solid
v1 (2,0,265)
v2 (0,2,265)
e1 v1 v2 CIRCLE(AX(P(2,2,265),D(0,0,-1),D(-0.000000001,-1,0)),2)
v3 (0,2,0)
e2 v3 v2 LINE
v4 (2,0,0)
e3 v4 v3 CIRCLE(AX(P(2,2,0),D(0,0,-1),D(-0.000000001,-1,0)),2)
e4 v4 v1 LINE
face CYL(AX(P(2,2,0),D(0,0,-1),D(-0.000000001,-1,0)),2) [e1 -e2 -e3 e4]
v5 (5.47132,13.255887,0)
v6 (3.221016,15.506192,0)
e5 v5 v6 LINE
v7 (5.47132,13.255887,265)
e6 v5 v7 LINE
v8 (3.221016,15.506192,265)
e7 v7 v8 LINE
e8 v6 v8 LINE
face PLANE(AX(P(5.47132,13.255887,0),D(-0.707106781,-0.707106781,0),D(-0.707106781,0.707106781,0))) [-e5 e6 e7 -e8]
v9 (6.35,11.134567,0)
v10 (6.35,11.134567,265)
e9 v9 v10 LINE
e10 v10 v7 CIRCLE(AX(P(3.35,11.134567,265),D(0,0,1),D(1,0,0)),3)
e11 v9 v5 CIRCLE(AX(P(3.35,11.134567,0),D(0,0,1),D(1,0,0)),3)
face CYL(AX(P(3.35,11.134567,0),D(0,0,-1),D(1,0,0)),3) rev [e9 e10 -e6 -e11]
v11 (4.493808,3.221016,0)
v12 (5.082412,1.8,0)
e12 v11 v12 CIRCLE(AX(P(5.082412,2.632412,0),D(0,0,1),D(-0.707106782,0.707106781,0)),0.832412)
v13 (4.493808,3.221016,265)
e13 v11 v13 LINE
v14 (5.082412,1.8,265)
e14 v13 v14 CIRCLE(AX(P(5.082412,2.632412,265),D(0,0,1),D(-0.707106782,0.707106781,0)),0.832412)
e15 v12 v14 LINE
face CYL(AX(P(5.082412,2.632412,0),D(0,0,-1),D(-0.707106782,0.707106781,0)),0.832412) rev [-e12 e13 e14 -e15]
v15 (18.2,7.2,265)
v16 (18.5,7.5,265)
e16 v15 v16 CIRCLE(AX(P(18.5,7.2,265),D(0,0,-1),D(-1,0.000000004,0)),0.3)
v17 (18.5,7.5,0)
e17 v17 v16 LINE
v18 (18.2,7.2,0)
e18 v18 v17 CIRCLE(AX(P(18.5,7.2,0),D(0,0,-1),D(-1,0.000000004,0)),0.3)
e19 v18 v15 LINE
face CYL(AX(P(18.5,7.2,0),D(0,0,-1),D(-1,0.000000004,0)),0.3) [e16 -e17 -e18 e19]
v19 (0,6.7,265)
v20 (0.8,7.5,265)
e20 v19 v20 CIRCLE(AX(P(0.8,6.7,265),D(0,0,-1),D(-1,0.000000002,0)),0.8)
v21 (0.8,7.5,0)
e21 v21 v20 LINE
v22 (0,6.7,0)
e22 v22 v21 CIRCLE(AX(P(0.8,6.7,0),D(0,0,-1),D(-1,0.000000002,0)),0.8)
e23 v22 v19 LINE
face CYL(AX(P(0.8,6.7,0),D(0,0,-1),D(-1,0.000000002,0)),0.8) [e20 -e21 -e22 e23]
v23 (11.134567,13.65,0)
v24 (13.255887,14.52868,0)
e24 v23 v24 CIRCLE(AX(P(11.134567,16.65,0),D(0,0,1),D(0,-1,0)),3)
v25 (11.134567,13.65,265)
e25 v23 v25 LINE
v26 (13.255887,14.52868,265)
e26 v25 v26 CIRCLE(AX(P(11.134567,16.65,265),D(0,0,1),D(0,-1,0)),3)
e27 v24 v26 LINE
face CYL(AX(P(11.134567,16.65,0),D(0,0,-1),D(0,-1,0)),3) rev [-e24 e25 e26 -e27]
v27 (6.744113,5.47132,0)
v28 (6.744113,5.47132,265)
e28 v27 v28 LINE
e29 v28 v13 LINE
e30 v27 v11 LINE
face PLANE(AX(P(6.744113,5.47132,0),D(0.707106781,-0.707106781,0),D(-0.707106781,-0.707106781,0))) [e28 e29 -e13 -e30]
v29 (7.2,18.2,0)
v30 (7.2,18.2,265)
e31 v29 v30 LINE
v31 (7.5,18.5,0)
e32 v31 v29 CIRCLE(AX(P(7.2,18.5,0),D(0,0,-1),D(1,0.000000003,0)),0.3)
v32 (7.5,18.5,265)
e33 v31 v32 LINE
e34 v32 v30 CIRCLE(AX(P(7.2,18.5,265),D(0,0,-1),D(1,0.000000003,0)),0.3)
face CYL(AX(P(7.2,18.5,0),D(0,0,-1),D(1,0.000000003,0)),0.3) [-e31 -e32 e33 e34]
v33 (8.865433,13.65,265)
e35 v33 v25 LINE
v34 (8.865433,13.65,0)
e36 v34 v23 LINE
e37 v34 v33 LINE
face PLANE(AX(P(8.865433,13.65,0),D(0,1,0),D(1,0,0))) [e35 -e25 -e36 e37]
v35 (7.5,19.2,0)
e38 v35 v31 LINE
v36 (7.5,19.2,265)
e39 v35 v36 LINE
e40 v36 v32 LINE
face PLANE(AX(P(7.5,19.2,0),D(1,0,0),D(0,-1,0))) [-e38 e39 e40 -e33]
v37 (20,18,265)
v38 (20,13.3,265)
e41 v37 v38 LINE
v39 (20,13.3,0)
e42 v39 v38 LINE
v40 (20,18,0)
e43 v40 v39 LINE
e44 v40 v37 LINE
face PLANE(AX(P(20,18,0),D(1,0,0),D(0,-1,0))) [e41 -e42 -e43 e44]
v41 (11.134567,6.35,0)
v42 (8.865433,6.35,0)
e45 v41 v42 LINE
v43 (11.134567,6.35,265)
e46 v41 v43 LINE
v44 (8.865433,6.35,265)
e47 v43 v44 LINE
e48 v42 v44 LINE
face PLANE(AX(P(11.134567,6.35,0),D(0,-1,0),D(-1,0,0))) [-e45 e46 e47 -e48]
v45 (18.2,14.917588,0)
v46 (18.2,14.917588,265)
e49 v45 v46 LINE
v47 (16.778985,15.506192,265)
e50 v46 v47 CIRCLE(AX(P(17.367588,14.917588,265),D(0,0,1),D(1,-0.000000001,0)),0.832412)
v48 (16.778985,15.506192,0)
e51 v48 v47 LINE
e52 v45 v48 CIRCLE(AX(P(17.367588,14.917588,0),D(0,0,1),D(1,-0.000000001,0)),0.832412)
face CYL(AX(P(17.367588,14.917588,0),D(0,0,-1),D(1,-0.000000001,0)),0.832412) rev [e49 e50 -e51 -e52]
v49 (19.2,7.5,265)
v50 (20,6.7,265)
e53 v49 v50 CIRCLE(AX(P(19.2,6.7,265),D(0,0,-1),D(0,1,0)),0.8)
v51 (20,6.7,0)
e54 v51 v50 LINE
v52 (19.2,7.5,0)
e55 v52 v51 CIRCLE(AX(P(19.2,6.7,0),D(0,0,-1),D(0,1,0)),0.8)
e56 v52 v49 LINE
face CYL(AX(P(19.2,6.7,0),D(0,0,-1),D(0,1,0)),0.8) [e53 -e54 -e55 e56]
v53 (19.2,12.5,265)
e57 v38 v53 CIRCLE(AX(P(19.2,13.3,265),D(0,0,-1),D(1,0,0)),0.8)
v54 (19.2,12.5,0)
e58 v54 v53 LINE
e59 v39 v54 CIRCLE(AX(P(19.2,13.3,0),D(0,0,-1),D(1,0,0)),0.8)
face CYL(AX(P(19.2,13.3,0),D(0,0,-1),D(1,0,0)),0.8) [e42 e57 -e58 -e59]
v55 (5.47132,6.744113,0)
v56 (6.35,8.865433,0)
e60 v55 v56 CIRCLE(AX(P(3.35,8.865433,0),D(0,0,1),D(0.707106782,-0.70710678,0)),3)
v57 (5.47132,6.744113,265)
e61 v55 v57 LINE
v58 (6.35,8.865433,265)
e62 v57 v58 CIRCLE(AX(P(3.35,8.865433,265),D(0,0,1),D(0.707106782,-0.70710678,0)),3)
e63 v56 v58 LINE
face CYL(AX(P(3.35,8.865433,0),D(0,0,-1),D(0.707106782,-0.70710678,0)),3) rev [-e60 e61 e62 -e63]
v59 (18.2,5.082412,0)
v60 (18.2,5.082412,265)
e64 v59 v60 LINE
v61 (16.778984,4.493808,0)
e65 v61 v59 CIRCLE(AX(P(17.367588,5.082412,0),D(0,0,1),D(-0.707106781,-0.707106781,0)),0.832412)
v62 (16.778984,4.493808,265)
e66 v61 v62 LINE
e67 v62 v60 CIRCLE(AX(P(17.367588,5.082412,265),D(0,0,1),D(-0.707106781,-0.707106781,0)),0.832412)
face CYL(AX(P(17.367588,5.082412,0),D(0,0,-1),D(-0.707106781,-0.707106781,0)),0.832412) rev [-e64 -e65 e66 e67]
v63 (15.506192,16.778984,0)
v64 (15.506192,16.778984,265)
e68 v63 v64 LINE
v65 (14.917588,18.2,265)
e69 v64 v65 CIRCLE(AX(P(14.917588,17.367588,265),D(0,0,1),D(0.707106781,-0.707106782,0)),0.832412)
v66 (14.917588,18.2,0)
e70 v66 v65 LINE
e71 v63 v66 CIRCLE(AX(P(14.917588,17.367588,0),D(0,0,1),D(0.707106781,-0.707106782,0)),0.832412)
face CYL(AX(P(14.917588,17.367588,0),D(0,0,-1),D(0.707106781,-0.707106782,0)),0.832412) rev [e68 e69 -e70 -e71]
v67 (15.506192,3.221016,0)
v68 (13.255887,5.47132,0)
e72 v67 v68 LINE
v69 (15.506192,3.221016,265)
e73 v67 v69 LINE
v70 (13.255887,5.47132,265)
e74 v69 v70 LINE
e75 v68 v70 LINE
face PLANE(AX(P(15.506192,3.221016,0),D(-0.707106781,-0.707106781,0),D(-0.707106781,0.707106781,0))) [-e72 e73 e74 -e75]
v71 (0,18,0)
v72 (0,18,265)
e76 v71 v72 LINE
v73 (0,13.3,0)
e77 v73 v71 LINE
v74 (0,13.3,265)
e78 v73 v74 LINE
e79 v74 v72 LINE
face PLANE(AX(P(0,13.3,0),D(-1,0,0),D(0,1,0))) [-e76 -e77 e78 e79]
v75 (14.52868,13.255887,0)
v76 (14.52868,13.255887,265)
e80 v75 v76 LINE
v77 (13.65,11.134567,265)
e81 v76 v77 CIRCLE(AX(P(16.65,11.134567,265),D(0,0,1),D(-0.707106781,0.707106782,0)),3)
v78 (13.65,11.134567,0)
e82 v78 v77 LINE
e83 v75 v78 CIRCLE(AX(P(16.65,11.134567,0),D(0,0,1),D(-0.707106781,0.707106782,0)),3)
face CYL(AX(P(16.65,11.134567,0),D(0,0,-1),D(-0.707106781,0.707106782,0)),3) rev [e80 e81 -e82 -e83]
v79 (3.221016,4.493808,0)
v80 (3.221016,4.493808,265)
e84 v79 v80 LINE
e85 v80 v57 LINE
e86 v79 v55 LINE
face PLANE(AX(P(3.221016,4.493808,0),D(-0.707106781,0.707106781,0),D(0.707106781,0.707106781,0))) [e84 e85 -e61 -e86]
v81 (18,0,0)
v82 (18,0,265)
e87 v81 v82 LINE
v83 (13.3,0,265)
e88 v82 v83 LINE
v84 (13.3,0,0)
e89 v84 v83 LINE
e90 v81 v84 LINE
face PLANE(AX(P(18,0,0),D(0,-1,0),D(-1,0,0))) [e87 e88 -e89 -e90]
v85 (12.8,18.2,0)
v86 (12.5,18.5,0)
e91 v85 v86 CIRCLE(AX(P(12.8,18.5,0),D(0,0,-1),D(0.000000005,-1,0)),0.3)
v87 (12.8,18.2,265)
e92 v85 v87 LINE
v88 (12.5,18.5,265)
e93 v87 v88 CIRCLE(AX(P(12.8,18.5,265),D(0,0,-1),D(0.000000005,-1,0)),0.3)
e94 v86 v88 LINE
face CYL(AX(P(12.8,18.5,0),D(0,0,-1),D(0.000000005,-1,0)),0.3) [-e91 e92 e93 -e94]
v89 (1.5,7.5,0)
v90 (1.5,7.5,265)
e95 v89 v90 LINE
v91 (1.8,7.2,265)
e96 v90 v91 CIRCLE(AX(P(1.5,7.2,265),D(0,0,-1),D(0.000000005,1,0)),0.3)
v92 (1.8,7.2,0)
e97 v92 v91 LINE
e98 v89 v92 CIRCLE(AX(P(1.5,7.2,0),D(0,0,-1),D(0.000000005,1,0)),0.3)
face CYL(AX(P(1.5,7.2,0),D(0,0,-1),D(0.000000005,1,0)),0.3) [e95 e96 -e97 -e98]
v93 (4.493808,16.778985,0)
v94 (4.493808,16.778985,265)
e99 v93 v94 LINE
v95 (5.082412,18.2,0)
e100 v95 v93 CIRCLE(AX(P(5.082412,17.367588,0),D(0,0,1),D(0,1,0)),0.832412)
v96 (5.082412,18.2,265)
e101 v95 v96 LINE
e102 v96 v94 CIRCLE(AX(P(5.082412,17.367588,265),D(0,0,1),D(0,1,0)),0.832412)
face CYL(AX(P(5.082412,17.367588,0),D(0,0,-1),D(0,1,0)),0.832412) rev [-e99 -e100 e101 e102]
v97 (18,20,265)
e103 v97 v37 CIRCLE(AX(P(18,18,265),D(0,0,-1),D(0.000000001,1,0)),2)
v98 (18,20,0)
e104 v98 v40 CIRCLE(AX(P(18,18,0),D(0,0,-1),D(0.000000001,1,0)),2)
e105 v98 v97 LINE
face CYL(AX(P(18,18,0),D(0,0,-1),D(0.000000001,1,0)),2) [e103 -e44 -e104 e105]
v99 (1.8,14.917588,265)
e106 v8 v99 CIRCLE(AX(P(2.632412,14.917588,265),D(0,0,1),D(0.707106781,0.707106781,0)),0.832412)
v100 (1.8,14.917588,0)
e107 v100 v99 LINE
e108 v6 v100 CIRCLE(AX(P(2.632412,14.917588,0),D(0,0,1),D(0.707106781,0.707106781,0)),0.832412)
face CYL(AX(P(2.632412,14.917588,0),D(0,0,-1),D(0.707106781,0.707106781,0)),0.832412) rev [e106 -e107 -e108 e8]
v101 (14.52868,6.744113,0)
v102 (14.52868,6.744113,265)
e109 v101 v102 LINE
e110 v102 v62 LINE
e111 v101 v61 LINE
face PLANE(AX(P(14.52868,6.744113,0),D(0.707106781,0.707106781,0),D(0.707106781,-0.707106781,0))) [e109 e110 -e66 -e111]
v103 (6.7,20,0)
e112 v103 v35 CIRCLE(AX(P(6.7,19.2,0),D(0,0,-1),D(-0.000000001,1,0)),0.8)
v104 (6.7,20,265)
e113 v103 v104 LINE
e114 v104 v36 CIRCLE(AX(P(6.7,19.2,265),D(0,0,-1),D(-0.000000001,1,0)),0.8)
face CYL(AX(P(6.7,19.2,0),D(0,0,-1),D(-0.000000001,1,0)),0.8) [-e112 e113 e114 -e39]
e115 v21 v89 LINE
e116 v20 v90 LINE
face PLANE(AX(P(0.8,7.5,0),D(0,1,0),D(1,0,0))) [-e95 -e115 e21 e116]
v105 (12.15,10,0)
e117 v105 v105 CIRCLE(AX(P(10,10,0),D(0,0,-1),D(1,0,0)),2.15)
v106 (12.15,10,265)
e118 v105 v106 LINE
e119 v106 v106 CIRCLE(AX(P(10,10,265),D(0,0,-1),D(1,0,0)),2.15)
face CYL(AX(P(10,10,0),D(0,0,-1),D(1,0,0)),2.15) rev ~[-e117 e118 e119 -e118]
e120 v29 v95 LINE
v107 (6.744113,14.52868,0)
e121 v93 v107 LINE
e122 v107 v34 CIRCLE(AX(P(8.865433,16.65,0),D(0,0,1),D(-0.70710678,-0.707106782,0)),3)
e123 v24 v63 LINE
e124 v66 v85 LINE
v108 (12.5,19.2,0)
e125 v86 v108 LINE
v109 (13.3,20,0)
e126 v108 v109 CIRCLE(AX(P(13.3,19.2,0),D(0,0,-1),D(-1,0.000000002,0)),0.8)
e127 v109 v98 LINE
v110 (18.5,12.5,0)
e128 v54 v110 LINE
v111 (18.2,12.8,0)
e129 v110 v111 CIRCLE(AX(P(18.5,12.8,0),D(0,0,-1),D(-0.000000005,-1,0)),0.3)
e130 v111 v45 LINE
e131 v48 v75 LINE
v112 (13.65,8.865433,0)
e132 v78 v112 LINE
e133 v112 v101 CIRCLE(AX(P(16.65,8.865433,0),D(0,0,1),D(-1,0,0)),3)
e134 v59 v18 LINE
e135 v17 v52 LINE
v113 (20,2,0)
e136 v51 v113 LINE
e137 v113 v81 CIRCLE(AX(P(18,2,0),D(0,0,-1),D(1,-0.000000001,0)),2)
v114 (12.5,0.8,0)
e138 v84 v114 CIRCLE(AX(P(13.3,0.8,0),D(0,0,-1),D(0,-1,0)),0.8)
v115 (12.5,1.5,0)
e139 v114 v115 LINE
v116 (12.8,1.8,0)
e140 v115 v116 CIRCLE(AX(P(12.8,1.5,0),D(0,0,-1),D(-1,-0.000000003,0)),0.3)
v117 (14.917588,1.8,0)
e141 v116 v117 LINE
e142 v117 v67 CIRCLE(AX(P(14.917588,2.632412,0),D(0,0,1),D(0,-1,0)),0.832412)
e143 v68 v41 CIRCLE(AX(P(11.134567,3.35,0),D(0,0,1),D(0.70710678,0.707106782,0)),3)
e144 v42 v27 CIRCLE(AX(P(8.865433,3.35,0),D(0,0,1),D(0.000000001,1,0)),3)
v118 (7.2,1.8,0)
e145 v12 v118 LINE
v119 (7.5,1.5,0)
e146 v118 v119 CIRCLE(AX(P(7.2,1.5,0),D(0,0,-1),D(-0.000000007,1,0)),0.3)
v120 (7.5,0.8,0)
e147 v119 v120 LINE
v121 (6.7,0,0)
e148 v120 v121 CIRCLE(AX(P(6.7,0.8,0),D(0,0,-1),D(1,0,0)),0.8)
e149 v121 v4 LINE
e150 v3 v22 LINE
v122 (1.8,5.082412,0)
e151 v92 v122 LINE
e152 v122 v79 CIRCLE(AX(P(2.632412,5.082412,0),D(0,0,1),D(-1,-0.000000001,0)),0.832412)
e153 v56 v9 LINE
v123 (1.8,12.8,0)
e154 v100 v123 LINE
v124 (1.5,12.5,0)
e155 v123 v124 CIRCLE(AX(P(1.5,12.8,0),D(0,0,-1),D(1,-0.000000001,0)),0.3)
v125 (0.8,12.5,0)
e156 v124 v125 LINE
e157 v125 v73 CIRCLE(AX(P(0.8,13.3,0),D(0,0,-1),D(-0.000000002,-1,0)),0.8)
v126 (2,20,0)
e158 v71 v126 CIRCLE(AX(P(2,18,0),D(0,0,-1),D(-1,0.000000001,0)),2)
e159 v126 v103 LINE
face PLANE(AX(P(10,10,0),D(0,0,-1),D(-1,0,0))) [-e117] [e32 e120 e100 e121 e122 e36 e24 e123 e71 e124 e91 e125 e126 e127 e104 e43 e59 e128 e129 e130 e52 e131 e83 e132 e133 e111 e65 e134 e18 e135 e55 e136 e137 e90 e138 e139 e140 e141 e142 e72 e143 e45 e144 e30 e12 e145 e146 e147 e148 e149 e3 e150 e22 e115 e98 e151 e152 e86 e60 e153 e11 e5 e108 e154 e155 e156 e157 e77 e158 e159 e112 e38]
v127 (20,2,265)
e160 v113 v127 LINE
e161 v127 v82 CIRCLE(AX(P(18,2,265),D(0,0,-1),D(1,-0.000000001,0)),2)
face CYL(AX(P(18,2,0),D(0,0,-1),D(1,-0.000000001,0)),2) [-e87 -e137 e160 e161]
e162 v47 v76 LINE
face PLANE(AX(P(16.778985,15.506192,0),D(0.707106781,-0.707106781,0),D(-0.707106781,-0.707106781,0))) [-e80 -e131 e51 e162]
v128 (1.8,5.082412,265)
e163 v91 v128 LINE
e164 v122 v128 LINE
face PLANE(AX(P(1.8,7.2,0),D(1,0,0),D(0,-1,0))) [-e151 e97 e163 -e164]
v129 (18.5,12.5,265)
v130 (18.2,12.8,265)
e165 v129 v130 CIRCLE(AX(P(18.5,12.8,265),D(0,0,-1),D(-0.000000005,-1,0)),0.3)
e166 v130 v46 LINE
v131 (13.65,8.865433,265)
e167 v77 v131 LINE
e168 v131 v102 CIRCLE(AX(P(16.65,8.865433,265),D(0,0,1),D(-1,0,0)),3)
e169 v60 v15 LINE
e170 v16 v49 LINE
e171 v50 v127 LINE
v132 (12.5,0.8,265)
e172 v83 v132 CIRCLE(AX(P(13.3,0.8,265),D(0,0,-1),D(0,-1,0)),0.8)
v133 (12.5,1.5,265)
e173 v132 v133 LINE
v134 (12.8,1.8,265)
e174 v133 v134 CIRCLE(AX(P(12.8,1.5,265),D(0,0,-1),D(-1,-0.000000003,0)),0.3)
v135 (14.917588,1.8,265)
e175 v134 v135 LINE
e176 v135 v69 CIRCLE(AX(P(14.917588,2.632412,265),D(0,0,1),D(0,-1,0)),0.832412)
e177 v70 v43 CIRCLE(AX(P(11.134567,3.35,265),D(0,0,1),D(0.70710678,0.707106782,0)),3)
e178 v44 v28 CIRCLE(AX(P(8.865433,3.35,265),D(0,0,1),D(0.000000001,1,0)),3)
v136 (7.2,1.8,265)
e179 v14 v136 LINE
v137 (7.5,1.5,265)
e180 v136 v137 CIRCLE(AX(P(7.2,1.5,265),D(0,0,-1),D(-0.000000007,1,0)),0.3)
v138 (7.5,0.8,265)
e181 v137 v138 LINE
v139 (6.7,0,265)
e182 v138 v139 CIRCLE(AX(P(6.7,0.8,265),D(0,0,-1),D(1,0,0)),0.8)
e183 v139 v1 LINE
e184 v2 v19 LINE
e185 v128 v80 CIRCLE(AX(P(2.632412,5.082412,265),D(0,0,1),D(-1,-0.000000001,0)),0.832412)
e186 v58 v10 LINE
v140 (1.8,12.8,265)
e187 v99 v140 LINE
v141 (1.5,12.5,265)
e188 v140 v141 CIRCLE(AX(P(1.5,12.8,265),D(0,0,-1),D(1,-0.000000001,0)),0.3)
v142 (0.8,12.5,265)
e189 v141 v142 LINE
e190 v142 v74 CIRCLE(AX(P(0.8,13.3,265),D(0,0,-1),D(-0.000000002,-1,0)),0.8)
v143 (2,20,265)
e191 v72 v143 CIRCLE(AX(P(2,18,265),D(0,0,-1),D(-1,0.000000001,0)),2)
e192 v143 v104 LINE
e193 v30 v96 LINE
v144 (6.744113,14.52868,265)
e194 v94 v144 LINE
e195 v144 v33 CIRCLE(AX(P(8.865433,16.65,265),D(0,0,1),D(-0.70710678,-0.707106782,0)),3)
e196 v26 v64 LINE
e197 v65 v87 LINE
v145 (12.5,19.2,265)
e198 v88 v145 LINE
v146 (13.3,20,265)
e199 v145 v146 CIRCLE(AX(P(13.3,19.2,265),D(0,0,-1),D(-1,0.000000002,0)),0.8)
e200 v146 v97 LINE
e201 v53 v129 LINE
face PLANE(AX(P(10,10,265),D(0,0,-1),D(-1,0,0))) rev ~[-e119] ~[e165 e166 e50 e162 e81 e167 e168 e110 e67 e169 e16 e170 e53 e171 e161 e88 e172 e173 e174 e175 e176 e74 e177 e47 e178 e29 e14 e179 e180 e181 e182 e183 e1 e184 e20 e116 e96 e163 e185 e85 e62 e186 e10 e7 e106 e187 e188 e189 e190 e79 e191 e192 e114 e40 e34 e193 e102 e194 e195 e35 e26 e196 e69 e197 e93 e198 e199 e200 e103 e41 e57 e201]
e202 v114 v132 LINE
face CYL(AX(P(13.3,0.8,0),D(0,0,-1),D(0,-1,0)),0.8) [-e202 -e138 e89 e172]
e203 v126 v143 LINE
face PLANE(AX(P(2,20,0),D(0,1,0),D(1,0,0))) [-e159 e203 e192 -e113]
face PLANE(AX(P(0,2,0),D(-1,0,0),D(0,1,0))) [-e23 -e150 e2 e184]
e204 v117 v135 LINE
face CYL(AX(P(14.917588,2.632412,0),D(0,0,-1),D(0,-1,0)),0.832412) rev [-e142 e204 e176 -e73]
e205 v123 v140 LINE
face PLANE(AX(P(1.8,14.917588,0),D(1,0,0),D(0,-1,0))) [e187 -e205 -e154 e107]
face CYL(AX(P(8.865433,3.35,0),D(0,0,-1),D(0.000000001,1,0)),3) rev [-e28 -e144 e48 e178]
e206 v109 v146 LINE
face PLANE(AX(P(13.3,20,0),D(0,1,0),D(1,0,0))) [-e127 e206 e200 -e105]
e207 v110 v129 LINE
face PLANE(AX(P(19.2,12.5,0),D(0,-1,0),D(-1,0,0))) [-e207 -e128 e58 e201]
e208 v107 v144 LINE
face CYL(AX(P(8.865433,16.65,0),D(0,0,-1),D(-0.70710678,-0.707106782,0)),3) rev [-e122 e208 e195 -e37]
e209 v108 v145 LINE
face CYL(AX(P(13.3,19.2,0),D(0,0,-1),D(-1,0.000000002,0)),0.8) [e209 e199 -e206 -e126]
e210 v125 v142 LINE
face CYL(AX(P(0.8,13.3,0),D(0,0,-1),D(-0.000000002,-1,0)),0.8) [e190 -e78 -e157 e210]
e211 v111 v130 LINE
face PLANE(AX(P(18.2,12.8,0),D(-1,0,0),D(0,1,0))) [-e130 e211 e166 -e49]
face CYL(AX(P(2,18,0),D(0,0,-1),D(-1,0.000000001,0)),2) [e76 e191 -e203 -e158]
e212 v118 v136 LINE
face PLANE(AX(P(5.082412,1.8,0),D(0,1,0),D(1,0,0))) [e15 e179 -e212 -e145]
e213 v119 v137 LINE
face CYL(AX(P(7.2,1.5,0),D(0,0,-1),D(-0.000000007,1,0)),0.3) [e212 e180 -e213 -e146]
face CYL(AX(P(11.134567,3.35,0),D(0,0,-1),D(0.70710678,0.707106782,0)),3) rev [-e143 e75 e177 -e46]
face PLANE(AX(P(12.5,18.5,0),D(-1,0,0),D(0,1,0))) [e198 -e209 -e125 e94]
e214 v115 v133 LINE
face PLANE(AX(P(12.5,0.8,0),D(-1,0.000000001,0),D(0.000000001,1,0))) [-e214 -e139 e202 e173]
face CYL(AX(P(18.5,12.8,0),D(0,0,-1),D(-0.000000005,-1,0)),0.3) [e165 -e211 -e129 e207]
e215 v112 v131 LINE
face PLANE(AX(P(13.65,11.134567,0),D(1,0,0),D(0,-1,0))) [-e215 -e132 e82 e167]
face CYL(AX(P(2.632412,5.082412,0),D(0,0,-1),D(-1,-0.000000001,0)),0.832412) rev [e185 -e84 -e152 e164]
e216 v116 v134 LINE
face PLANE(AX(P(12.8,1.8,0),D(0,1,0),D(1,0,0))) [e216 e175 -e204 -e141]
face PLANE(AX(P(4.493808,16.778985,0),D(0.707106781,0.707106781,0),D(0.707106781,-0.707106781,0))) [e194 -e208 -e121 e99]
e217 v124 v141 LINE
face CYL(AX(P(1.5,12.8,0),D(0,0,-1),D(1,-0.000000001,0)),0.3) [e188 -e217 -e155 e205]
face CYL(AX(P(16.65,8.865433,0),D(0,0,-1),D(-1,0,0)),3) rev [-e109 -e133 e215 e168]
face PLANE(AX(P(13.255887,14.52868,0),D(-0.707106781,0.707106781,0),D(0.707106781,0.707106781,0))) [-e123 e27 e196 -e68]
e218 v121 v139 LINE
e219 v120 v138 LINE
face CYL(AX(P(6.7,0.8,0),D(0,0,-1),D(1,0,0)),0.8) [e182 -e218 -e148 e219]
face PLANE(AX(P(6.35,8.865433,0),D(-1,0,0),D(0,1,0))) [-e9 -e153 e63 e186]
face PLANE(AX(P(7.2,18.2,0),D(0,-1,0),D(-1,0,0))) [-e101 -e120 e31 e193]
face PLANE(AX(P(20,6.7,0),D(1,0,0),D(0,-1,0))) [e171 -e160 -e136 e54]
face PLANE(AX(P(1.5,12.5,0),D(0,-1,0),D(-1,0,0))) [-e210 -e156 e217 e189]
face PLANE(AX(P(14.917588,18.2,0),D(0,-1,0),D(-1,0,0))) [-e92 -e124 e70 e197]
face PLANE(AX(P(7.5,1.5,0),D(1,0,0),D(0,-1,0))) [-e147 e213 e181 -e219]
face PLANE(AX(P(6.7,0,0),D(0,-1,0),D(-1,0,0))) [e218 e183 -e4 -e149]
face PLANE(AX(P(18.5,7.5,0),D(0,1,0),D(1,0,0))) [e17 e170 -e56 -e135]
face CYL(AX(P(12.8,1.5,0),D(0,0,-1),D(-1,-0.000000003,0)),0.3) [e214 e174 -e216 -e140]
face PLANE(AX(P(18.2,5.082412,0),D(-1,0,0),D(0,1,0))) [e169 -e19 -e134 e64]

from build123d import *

# Parameters (mm, degrees)
ESQUISSE1_R        = 2.15
BOSS_EXTRU_1_DEPTH = 265


with BuildPart() as part:
    # Esquisse1 → Boss.-Extru.1 (new body)
    with BuildSketch(Plane(origin=(0, 0, 0), x_dir=(-1, 0, 0), z_dir=(0, 0, -1))):
        with BuildLine():
            Line((-12.499999997, 0.800000003), (-12.499999998, 1.500000003))
            ThreePointArc((-12.499999998, 1.500000003), (-12.587867964, 1.712132039), (-12.8, 1.800000005))
            Line((-12.8, 1.800000005), (-14.9175884, 1.800000005))
            ThreePointArc((-14.9175884, 1.800000005), (-15.686636444, 2.31386148), (-15.50619229, 3.2210155))
            Line((-15.50619229, 3.2210155), (-13.25588745, 5.47132034))
            ThreePointArc((-13.25588745, 5.47132034), (-12.282617404, 6.121638593), (-11.134567108, 6.349999996))
            Line((-11.134567108, 6.349999996), (-8.865432907, 6.349999996))
            ThreePointArc((-8.865432907, 6.349999996), (-7.717382611, 6.121638594), (-6.744112567, 5.471320341))
            Line((-6.744112567, 5.471320341), (-4.493807729, 3.221015503))
            ThreePointArc((-4.493807729, 3.221015503), (-4.313363575, 2.313861481), (-5.082411621, 1.800000005))
            Line((-5.082411621, 1.800000005), (-7.20000001, 1.800000005))
            ThreePointArc((-7.20000001, 1.800000005), (-7.412132045, 1.71213204), (-7.50000001, 1.500000005))
            Line((-7.50000001, 1.500000005), (-7.50000001, 0.8))
            ThreePointArc((-7.50000001, 0.8), (-7.265685435, 0.234314575), (-6.70000001, 0))
            Line((-6.70000001, 0), (-2, 0))
            ThreePointArc((-2, 0), (-0.585786438, 0.585786438), (0, 2))
            Line((0, 2), (0, 6.699999998))
            ThreePointArc((0, 6.699999998), (-0.234314576, 7.265685424), (-0.800000003, 7.5))
            Line((-0.800000003, 7.5), (-1.50000001, 7.5))
            ThreePointArc((-1.50000001, 7.5), (-1.712132046, 7.412132033), (-1.800000013, 7.199999997))
            Line((-1.800000013, 7.199999997), (-1.800000013, 5.082411603))
            ThreePointArc((-1.800000013, 5.082411603), (-2.313861487, 4.31336356), (-3.221015507, 4.493807713))
            Line((-3.221015507, 4.493807713), (-5.471320347, 6.744112553))
            ThreePointArc((-5.471320347, 6.744112553), (-6.1216386, 7.717382599), (-6.350000003, 8.865432896))
            Line((-6.350000003, 8.865432896), (-6.350000003, 11.134567102))
            ThreePointArc((-6.350000003, 11.134567102), (-6.121638601, 12.282617397), (-5.471320348, 13.255887442))
            Line((-5.471320348, 13.255887442), (-3.221015512, 15.506192278))
            ThreePointArc((-3.221015512, 15.506192278), (-2.313861489, 15.686636432), (-1.800000013, 14.917588386))
            Line((-1.800000013, 14.917588386), (-1.800000013, 12.799999998))
            ThreePointArc((-1.800000013, 12.799999998), (-1.712132047, 12.587867963), (-1.500000013, 12.499999997))
            Line((-1.500000013, 12.499999997), (-0.8, 12.499999997))
            ThreePointArc((-0.8, 12.499999997), (-0.234314575, 12.734314573), (0, 13.299999998))
            Line((0, 13.299999998), (0, 18))
            ThreePointArc((0, 18), (-0.585786438, 19.414213562), (-2, 20))
            Line((-2, 20), (-6.700000008, 20))
            ThreePointArc((-6.700000008, 20), (-7.265685435, 19.765685424), (-7.50000001, 19.199999998))
            Line((-7.50000001, 19.199999998), (-7.50000001, 18.500000005))
            ThreePointArc((-7.50000001, 18.500000005), (-7.412132044, 18.287867969), (-7.200000008, 18.200000003))
            Line((-7.200000008, 18.200000003), (-5.082411594, 18.200000003))
            ThreePointArc((-5.082411594, 18.200000003), (-4.313363546, 17.686138526), (-4.493807701, 16.778984501))
            Line((-4.493807701, 16.778984501), (-6.744112542, 14.528679659))
            ThreePointArc((-6.744112542, 14.528679659), (-7.717382588, 13.878361406), (-8.865432885, 13.650000003))
            Line((-8.865432885, 13.650000003), (-11.134567112, 13.650000003))
            ThreePointArc((-11.134567112, 13.650000003), (-12.282617407, 13.878361405), (-13.255887452, 14.528679658))
            Line((-13.255887452, 14.528679658), (-15.506192292, 16.778984498))
            ThreePointArc((-15.506192292, 16.778984498), (-15.686636447, 17.686138525), (-14.917588397, 18.200000002))
            Line((-14.917588397, 18.200000002), (-12.799999998, 18.200000003))
            ThreePointArc((-12.799999998, 18.200000003), (-12.587867963, 18.287867968), (-12.499999997, 18.500000002))
            Line((-12.499999997, 18.500000002), (-12.499999997, 19.2))
            ThreePointArc((-12.499999997, 19.2), (-12.734314573, 19.765685425), (-13.299999998, 20))
            Line((-13.299999998, 20), (-18, 20))
            ThreePointArc((-18, 20), (-19.414213562, 19.414213562), (-20, 18))
            Line((-20, 18), (-20, 13.3))
            ThreePointArc((-20, 13.3), (-19.765685424, 12.734314573), (-19.199999998, 12.499999997))
            Line((-19.199999998, 12.499999997), (-18.500000003, 12.499999997))
            ThreePointArc((-18.500000003, 12.499999997), (-18.287867967, 12.587867964), (-18.2, 12.8))
            Line((-18.2, 12.8), (-18.2, 14.91758839))
            ThreePointArc((-18.2, 14.91758839), (-17.686138526, 15.686636434), (-16.778984506, 15.50619228))
            Line((-16.778984506, 15.50619228), (-14.528679657, 13.255887431))
            ThreePointArc((-14.528679657, 13.255887431), (-13.878361403, 12.282617385), (-13.650000001, 11.134567088))
            Line((-13.650000001, 11.134567088), (-13.650000001, 8.865432886))
            ThreePointArc((-13.650000001, 8.865432886), (-13.878361403, 7.717382591), (-14.528679656, 6.744112546))
            Line((-14.528679656, 6.744112546), (-16.778984496, 4.493807706))
            ThreePointArc((-16.778984496, 4.493807706), (-17.686138522, 4.313363551), (-18.2, 5.0824116))
            Line((-18.2, 5.0824116), (-18.2, 7.2))
            ThreePointArc((-18.2, 7.2), (-18.287867966, 7.412132034), (-18.5, 7.5))
            Line((-18.5, 7.5), (-19.2, 7.5))
            ThreePointArc((-19.2, 7.5), (-19.765685425, 7.265685425), (-20, 6.7))
            Line((-20, 6.7), (-20, 2))
            ThreePointArc((-20, 2), (-19.414213562, 0.585786438), (-18, 0))
            Line((-18, 0), (-13.3, 0))
            ThreePointArc((-13.3, 0), (-12.734314573, 0.234314576), (-12.499999997, 0.800000003))
        make_face()
        with Locations(Location((-10, 10, 0), (0, 0, 180))):
            Circle(ESQUISSE1_R, mode=Mode.SUBTRACT)
    extrude(amount=-BOSS_EXTRU_1_DEPTH)


solid = part.part
